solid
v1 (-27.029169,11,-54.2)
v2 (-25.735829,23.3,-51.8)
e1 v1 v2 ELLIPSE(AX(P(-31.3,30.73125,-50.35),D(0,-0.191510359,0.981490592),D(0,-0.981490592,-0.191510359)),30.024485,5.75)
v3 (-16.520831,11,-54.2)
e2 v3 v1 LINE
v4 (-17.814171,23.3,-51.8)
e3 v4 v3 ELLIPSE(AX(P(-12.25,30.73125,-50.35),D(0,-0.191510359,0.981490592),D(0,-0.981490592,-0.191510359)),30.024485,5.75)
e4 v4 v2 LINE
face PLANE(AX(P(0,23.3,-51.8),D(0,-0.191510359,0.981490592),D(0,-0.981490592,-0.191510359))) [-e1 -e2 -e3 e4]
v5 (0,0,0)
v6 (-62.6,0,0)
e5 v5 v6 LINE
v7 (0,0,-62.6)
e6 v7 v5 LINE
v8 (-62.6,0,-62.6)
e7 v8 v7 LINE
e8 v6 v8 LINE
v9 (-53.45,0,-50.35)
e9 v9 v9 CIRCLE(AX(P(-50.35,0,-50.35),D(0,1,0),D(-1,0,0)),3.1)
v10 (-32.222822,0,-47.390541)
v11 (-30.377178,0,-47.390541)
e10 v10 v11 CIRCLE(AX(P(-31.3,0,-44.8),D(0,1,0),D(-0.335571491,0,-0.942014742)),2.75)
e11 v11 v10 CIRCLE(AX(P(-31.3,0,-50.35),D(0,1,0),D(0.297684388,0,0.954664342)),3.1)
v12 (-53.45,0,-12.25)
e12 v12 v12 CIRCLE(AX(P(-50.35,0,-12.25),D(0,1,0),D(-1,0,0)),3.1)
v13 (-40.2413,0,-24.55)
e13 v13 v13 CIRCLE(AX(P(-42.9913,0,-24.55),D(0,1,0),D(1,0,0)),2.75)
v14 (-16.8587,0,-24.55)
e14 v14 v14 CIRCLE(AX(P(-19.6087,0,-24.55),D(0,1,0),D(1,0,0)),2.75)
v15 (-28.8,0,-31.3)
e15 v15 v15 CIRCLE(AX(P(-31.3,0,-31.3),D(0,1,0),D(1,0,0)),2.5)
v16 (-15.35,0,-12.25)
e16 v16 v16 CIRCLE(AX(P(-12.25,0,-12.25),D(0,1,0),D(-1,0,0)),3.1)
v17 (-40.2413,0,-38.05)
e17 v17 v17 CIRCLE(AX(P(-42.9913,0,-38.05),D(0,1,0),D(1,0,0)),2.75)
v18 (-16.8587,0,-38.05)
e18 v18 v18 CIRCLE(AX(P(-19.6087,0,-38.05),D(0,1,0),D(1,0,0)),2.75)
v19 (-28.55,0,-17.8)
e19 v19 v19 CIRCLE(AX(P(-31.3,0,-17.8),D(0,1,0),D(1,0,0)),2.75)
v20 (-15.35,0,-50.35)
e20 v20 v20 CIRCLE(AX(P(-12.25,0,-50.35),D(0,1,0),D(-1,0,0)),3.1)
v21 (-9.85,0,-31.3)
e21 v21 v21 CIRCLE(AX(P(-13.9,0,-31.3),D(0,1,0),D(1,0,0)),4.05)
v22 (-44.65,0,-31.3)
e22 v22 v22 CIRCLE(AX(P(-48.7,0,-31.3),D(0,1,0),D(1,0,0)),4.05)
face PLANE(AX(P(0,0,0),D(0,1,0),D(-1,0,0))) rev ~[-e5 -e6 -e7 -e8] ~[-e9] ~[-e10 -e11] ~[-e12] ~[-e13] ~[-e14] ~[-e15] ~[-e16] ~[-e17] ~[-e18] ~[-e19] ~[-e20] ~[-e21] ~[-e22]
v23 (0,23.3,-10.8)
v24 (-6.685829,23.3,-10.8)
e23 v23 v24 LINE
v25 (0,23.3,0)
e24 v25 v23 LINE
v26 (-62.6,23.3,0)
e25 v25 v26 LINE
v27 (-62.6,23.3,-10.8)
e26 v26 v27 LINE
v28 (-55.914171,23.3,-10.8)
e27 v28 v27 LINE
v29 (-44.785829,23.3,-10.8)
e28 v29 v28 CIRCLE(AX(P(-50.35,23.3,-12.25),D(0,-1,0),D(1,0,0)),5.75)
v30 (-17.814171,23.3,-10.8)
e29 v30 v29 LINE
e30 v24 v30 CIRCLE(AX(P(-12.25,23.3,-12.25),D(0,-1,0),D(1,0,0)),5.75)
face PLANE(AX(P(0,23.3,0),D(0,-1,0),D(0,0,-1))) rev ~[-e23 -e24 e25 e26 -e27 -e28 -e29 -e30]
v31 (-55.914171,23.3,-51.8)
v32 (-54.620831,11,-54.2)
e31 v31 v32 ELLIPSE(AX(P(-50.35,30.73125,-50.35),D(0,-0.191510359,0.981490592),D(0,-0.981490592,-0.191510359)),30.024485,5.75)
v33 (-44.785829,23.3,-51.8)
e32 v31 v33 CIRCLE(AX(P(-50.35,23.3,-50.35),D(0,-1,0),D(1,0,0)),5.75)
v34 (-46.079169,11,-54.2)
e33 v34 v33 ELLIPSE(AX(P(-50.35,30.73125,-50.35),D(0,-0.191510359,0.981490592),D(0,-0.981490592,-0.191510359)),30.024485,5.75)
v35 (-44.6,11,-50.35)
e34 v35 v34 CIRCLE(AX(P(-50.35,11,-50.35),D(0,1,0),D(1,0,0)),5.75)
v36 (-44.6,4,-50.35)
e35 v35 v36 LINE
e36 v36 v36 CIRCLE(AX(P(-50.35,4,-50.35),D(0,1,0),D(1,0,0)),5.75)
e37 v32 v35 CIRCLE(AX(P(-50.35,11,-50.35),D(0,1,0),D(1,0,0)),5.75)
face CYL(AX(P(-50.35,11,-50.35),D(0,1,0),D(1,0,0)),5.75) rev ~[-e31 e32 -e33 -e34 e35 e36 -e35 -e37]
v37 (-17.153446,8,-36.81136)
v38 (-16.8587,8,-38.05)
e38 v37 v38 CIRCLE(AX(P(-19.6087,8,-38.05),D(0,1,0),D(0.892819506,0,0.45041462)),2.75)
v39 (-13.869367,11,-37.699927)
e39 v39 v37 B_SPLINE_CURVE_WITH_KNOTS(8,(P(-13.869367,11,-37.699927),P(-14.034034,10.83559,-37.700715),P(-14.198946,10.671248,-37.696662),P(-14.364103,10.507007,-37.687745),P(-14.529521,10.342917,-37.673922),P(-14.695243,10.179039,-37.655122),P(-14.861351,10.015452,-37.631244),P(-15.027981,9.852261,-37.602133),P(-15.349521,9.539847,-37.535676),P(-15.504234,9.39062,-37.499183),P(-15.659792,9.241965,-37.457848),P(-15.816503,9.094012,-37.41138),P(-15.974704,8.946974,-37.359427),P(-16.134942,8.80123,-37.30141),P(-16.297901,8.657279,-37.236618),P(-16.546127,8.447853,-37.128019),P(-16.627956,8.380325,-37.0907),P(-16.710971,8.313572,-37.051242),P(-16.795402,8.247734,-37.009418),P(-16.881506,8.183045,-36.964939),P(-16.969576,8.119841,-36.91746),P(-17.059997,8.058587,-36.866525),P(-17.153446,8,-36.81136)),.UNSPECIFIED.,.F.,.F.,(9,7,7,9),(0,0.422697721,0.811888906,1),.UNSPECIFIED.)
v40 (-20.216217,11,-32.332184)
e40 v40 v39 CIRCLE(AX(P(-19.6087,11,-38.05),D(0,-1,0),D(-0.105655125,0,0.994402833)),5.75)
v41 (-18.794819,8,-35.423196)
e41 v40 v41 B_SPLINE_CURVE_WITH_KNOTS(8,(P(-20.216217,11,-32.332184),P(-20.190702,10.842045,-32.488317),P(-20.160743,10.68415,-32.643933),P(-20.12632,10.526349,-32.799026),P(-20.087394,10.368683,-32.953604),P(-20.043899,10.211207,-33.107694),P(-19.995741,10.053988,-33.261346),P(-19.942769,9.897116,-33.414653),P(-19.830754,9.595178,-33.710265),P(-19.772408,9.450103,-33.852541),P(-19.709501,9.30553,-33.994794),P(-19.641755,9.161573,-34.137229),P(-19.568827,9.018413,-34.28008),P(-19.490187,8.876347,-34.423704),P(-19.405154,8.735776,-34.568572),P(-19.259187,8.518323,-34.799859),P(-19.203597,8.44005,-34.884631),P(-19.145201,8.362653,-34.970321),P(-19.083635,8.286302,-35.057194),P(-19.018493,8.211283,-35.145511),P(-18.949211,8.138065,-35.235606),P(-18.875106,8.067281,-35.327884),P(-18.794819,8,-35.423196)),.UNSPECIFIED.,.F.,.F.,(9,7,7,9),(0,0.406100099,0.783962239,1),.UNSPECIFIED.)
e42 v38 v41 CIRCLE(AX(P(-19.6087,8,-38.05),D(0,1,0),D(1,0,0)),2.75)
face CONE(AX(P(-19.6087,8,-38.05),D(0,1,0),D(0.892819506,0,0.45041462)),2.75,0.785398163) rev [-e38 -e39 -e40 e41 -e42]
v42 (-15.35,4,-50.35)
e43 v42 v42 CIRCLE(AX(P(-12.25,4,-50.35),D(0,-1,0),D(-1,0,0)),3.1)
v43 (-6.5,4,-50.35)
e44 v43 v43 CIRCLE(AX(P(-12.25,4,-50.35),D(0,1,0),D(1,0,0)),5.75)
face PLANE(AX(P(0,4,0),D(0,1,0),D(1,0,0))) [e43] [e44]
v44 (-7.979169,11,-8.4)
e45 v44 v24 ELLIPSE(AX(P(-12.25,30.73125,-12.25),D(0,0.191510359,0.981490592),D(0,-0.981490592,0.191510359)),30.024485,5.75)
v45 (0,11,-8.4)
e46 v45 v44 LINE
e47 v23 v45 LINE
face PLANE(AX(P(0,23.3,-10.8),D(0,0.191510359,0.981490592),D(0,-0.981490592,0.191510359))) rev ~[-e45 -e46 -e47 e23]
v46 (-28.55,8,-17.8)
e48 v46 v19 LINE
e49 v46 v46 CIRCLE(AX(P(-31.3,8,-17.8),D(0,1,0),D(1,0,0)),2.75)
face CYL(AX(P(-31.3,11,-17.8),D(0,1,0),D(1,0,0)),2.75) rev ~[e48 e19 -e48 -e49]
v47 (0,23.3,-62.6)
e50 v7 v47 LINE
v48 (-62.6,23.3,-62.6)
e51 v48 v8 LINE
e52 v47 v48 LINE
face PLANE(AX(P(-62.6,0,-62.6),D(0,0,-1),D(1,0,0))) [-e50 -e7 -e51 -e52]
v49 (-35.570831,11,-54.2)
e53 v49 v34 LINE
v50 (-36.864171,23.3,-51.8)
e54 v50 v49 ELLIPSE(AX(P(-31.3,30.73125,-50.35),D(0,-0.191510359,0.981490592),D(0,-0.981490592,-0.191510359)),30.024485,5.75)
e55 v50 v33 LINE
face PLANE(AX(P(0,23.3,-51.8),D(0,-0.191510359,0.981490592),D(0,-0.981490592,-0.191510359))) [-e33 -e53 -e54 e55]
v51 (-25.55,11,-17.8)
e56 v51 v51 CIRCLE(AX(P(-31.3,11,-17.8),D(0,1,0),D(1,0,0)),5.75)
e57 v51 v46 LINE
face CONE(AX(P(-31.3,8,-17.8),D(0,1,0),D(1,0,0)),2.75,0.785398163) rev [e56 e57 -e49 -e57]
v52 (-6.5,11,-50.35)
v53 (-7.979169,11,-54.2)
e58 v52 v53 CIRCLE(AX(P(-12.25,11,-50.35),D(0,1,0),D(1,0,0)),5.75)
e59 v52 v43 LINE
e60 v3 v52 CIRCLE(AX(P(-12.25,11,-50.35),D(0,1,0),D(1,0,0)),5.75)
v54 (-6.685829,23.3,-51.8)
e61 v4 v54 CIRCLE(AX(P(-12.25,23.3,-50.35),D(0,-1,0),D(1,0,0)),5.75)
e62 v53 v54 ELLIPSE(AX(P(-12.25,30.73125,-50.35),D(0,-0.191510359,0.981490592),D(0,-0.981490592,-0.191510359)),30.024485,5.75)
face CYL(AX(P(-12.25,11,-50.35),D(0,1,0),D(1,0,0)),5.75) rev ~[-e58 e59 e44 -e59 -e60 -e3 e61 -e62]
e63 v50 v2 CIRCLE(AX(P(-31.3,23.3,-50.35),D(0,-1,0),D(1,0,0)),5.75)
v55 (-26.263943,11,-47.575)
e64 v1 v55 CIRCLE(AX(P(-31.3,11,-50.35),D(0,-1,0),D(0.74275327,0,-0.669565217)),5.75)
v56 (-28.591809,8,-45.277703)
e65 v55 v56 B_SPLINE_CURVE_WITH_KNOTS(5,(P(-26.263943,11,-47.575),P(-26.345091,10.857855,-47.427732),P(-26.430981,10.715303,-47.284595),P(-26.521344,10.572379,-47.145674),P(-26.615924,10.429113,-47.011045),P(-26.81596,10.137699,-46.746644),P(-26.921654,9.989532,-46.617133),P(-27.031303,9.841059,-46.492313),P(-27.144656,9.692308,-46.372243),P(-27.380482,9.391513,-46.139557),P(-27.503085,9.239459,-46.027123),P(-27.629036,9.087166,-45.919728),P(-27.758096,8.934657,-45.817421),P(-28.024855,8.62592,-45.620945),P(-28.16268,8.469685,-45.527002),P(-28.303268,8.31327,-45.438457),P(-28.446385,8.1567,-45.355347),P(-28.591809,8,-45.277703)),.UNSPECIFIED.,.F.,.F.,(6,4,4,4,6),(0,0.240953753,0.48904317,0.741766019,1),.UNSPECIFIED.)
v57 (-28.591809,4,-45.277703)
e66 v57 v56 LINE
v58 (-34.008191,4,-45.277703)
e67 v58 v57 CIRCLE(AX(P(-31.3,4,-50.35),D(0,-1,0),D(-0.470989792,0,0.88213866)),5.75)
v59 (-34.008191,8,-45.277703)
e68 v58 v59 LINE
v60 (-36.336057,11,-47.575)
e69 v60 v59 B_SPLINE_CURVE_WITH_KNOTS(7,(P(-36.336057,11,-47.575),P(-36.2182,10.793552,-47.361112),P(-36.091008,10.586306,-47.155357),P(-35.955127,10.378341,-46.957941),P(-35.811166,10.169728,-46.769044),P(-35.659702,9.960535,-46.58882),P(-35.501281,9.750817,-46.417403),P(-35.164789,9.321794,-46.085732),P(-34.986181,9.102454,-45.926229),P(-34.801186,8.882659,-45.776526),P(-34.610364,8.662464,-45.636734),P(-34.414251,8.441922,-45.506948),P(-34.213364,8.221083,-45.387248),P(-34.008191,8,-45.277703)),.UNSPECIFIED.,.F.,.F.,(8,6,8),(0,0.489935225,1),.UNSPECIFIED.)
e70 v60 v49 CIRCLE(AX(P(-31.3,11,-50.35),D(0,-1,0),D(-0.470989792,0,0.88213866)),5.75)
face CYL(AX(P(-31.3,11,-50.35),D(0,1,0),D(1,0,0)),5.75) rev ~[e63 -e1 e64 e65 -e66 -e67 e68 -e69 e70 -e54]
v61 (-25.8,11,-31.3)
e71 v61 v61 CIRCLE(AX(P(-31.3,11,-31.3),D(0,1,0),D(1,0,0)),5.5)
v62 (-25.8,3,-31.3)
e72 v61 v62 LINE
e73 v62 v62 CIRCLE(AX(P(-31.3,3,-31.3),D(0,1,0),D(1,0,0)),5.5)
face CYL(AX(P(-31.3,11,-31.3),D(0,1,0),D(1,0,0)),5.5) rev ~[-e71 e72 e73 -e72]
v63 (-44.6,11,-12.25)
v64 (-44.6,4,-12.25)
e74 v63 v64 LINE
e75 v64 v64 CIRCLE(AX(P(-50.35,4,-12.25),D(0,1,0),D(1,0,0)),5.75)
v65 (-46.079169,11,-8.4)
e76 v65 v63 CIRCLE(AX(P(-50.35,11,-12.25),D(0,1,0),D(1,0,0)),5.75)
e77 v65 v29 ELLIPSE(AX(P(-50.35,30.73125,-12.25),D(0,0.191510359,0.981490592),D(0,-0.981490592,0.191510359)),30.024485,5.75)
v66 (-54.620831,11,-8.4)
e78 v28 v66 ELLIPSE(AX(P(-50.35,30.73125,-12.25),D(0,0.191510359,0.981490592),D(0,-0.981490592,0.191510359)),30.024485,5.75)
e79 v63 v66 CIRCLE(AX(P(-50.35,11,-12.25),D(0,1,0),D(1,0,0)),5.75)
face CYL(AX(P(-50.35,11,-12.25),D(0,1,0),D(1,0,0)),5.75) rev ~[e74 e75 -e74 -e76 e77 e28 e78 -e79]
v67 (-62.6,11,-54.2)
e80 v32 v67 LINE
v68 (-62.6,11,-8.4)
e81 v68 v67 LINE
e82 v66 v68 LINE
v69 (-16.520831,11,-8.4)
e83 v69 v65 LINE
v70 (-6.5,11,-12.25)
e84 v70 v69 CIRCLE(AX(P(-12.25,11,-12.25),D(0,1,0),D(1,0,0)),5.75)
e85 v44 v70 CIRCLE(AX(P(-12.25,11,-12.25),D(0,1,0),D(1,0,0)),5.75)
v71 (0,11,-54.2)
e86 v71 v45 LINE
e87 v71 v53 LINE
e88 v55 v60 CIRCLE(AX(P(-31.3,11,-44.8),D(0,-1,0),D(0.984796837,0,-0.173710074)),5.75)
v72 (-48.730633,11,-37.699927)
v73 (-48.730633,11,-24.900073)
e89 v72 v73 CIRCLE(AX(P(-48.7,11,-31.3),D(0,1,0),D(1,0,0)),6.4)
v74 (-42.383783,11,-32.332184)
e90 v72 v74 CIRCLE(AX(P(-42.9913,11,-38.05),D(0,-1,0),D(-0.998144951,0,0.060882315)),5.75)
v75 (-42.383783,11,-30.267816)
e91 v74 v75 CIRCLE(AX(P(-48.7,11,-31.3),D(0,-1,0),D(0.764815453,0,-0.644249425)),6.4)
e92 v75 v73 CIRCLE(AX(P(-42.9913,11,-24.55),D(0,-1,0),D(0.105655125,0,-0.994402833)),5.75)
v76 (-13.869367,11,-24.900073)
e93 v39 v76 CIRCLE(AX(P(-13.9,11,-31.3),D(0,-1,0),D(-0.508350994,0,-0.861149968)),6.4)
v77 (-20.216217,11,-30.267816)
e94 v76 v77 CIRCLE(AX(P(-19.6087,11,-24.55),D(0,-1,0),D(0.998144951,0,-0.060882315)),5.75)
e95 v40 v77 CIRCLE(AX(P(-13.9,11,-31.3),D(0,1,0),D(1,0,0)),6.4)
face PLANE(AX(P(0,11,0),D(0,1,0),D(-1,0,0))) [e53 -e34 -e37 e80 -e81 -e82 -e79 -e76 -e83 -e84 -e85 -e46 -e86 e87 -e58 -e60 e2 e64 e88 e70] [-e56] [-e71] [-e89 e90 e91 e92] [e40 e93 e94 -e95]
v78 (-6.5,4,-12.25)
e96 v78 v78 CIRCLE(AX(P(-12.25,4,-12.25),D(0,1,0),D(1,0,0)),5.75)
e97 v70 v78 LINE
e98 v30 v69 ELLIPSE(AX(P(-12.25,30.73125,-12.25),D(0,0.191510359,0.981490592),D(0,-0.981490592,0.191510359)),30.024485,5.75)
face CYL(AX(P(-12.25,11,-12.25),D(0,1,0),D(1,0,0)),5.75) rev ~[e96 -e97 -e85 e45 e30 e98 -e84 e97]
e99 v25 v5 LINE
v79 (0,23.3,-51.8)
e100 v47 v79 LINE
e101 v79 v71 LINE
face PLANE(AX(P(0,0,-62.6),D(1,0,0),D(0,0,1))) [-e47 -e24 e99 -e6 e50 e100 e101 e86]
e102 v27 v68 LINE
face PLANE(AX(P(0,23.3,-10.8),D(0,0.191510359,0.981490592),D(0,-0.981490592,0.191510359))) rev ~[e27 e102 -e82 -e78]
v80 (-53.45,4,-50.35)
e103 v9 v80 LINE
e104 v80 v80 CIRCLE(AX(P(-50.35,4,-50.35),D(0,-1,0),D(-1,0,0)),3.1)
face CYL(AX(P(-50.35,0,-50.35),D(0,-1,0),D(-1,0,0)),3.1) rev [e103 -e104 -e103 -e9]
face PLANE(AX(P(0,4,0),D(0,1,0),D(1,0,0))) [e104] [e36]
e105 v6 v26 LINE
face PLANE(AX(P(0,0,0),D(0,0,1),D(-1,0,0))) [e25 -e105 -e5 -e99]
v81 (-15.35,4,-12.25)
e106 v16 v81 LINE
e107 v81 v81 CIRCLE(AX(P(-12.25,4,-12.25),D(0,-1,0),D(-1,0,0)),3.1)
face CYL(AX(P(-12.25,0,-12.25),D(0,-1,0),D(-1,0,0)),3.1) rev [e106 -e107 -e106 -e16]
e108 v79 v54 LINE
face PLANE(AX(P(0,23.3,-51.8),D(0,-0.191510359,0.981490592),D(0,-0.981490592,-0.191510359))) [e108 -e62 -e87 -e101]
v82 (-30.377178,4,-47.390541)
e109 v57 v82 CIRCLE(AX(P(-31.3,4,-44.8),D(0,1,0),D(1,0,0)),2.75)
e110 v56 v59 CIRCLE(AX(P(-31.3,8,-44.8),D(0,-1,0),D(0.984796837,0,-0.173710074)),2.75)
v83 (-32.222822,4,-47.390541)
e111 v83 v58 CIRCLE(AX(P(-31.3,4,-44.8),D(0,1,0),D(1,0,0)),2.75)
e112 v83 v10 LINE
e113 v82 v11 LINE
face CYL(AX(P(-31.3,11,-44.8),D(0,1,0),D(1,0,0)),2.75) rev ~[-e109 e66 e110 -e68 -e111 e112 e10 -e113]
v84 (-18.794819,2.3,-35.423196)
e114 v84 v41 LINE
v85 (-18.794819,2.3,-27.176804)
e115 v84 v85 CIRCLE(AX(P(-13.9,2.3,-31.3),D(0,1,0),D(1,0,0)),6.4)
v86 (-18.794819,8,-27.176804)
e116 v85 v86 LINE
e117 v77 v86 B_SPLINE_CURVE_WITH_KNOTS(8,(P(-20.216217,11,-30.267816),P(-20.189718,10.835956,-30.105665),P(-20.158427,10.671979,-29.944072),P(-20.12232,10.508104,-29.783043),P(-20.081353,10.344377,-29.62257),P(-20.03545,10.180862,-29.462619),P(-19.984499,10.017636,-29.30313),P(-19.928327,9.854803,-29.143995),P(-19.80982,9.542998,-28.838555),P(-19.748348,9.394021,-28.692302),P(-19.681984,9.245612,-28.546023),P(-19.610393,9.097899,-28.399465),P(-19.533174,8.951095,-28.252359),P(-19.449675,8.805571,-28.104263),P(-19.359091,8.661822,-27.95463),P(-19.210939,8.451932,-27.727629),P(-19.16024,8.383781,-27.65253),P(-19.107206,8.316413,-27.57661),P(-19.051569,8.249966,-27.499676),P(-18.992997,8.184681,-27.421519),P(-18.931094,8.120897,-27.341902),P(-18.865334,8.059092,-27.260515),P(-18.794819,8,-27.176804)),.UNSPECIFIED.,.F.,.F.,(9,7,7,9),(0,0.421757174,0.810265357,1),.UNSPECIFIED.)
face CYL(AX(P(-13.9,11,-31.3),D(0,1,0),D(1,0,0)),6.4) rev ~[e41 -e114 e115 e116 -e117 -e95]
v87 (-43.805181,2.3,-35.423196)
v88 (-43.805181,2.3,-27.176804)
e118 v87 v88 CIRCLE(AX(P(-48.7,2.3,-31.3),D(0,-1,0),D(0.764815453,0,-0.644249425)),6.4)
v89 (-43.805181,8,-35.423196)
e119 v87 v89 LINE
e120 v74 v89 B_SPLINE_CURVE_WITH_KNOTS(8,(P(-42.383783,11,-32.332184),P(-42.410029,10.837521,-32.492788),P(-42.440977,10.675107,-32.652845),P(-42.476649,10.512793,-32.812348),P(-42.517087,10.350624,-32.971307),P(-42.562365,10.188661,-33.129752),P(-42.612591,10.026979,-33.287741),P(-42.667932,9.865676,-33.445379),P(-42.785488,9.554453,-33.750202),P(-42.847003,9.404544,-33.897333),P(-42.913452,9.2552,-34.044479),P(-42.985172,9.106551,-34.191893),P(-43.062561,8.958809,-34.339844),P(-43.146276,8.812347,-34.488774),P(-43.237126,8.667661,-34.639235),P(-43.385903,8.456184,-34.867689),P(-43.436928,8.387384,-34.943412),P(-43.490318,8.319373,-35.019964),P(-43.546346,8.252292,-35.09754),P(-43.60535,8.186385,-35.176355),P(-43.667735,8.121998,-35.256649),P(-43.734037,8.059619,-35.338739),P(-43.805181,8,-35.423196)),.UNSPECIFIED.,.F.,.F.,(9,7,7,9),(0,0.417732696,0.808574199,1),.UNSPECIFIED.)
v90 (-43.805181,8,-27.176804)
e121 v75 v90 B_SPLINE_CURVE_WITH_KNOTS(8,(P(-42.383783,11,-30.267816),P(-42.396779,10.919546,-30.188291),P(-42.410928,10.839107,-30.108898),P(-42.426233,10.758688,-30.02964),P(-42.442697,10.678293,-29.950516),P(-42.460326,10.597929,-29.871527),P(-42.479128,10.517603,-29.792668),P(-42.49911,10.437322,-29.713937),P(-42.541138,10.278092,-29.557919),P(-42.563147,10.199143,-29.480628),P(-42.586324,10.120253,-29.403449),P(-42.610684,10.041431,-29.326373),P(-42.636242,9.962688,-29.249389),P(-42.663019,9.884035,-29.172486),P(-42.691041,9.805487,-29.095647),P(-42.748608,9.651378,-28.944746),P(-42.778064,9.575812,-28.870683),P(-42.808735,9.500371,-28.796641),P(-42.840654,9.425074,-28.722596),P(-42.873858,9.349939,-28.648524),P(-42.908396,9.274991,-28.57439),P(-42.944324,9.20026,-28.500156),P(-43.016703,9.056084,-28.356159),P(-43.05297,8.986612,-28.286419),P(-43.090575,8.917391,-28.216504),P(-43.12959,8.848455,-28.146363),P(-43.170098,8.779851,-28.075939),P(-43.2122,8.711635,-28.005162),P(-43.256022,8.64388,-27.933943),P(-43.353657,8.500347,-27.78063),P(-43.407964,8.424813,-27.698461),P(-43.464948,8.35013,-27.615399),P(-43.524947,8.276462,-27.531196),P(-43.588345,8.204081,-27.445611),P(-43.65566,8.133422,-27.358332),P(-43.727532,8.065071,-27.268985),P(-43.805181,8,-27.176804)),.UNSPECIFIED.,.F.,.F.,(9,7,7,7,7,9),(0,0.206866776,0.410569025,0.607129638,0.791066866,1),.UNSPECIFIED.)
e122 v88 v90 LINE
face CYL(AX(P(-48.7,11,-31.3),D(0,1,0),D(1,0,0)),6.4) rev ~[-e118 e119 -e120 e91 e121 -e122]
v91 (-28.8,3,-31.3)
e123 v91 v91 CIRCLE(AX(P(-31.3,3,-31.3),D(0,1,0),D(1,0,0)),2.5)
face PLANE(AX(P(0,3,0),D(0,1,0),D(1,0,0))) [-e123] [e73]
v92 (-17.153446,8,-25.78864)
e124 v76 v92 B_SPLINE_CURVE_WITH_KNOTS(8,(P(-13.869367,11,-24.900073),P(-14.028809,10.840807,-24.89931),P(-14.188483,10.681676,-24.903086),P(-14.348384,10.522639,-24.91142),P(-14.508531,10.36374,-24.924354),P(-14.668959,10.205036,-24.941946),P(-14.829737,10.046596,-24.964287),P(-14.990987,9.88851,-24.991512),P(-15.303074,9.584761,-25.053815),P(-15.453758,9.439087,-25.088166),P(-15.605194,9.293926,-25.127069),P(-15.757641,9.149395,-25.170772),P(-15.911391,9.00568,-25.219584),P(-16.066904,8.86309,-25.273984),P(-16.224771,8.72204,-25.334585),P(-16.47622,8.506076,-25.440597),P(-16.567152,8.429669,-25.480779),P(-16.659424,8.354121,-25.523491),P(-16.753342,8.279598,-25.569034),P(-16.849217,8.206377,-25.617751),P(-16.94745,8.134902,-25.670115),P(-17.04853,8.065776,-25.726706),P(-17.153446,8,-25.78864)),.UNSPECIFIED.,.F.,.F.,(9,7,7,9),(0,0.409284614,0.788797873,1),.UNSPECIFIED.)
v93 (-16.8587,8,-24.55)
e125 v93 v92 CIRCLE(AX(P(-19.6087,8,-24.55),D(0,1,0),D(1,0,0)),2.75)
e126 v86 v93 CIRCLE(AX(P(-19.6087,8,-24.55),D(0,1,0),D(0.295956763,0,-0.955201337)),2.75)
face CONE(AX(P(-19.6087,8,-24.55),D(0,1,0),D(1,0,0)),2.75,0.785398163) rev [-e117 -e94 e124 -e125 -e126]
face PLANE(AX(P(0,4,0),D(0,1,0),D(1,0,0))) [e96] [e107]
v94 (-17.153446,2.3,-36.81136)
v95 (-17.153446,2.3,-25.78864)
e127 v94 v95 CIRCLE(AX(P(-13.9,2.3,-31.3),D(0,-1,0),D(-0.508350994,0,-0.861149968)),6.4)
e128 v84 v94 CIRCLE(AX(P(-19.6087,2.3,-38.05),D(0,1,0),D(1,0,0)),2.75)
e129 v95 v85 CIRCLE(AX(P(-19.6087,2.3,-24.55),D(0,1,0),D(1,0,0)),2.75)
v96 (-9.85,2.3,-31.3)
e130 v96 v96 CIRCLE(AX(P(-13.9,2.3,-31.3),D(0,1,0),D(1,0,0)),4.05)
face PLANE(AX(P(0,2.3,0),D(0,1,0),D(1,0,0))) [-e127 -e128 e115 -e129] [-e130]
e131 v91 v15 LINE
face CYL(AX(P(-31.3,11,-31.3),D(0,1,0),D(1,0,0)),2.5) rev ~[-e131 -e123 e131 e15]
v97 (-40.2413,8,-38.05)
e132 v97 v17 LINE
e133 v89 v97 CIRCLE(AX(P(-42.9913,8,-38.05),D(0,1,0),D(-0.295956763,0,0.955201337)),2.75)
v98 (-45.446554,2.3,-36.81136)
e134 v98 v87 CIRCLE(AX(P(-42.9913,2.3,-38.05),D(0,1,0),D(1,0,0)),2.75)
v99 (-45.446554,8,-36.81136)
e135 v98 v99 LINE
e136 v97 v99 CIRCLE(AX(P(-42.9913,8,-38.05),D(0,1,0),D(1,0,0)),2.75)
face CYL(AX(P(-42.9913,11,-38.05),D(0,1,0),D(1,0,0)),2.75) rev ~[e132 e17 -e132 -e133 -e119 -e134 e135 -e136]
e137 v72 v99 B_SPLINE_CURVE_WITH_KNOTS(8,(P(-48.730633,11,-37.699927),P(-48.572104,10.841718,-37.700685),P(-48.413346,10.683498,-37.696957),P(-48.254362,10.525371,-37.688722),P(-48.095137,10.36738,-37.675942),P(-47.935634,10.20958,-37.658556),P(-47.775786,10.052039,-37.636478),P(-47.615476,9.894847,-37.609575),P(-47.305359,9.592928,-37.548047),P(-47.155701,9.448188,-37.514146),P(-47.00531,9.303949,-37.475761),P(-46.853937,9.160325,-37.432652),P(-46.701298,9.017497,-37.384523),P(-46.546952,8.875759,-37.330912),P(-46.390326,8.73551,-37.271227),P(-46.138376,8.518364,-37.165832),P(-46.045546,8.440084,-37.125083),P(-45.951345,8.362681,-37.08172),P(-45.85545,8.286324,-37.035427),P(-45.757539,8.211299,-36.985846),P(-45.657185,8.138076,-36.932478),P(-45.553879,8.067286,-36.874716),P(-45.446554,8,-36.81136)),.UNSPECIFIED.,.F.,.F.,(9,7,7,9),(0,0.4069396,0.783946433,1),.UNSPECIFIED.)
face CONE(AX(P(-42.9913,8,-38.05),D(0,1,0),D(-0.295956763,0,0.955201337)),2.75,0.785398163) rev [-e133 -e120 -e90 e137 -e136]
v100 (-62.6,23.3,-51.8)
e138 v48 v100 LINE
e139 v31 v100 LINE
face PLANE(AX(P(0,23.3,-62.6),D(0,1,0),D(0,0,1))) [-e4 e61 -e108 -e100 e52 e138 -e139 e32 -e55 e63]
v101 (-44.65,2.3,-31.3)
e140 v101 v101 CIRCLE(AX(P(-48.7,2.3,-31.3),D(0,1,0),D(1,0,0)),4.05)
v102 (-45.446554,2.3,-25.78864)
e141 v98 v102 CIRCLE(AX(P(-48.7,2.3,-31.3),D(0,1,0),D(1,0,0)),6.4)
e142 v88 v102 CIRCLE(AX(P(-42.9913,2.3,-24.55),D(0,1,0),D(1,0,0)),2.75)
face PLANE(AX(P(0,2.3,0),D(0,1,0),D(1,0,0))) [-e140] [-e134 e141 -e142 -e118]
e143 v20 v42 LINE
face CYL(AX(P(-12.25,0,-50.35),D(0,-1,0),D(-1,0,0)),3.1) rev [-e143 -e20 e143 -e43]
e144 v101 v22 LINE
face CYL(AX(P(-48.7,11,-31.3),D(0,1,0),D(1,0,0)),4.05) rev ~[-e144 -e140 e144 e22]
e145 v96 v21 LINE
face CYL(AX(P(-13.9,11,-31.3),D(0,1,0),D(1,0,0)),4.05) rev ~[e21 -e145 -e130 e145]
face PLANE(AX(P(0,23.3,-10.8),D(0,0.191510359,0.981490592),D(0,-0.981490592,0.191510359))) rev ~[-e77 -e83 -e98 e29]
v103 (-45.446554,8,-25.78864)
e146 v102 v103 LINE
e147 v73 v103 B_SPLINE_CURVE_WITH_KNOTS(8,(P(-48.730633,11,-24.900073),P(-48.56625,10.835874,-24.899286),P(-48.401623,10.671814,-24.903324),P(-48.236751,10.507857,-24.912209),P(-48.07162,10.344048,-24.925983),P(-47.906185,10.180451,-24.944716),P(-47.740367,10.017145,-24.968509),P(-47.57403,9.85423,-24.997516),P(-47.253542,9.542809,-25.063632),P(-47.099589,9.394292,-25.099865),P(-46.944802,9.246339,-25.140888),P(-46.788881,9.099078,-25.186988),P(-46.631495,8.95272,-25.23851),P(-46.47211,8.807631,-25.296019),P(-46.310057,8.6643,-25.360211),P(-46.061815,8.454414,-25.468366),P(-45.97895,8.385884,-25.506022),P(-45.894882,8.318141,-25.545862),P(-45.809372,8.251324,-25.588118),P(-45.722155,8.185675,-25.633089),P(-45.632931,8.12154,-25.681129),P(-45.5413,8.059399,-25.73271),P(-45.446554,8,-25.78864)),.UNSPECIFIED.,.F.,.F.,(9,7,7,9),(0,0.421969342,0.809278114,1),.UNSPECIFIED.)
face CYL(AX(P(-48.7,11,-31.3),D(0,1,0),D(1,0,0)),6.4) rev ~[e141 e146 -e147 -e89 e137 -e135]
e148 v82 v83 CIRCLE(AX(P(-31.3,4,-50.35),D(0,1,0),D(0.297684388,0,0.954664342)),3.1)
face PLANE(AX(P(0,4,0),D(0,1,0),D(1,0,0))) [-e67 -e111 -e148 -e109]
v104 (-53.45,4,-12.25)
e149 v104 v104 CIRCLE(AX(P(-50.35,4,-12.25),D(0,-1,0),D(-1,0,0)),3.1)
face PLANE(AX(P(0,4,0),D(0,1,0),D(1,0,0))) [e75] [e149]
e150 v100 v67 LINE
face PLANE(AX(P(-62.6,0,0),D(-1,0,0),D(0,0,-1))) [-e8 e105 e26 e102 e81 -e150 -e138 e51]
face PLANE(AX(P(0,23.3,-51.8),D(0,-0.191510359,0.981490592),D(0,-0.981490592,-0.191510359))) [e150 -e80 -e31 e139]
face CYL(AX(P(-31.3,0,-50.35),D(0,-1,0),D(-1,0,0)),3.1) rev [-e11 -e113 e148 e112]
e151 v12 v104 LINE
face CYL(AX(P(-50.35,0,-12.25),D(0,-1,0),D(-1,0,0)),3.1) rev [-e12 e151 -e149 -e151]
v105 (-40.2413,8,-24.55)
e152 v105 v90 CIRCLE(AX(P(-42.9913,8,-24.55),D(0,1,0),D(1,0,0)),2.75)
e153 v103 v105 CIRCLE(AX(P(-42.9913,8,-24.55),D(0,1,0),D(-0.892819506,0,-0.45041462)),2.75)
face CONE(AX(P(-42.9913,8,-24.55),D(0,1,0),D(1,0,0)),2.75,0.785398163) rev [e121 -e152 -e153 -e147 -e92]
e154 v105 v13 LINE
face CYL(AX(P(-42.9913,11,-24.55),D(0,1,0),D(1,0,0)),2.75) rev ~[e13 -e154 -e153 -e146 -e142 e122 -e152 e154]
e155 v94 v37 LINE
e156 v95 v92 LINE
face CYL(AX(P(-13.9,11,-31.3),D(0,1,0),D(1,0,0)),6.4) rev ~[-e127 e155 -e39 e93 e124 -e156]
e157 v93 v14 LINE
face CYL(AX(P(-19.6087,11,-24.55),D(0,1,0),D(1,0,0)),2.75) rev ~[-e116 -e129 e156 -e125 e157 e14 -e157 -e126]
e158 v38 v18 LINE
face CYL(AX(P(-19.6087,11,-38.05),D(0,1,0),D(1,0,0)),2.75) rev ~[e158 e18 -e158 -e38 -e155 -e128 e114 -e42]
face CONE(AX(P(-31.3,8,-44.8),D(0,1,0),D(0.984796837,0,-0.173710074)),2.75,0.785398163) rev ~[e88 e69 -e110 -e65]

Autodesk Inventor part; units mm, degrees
ref_plane "YZ Plane" through (0, 0, 0) normal (1, 0, 0) x (0, 1, 0)
ref_plane "XZ Plane" through (0, 0, 0) normal (0, 1, 0) x (-1, 0, 0)
ref_plane "XY Plane" through (0, 0, 0) normal (0, 0, 1) x (1, 0, 0)
sketch "Sketch1" plane through (0, 0, 0) normal (0, 1, 0) x (-1, 0, 0)
  line L0 (0, 0) -> (62.6, 0)
  line L1 (62.6, 0) -> (62.6, -62.6)
  line L2 (62.6, -62.6) -> (0, -62.6)
  line L3 (0, -62.6) -> (0, 0)
  circle A0 centre (31.3, -31.3) radius 2.5
  circle A1 centre (12.25, -12.25) radius 3.1
  circle A2 centre (31.3, -12.25) radius 3.1
  circle A3 centre (50.35, -12.25) radius 3.1
  circle A4 centre (12.25, -50.35) radius 3.1
  circle A5 centre (31.3, -50.35) radius 3.1
  circle A6 centre (50.35, -50.35) radius 3.1
  point P0 (31.3, -62.6)
  dimension "d0" = 62.6
  dimension "d1" = 62.6
  dimension "d2" = 5
  dimension "d3" = 31.3
  dimension "d4" = 31.3
  dimension "d5" = 19.05
  dimension "d6" = 19.05
  dimension "d7" = 6.2
  dimension "d10" = 19.05
  dimension "d13" = 38.1
extrude "Extrusion1" add sketch "Sketch1" along normal blind 11 contours L0 L1 L2 L3 | A0 | A2
sketch "Sketch3" plane through (0, 11, 0) normal (0, 1, 0) x (1, 0, 0)
  circle A0 centre (-31.3, 31.3) radius 2.5
  line L0 (-62.6, 0) -> (0, 0) projected
  line L1 (0, 0) -> (0, 62.6) projected
  dimension "d47" = 5
  dimension "d48" = 31.3
  dimension "d49" = 31.3
extrude "Extrusion3" cut sketch "Sketch3" against normal blind 11
sketch "Sketch4" plane through (0, 11, 0) normal (0, 1, 0) x (1, 0, 0)
  circle A0 centre (-31.3, 31.3) radius 2.5 projected
  circle A1 centre (-31.3, 31.3) radius 5.5
  point P0 (0, 0)
  dimension "d52" = 11
sketch "Sketch5" plane through (0, 11, 0) normal (0, 1, 0) x (1, 0, 0)
  circle A0 centre (-12.25, 12.25) radius 3.1 projected
  circle A1 centre (-12.25, 12.25) radius 5.75
  circle A2 centre (-50.35, 12.25) radius 3.1 projected
  circle A3 centre (-50.35, 12.25) radius 5.75
  circle A4 centre (-50.35, 50.35) radius 3.1 projected
  circle A5 centre (-50.35, 50.35) radius 5.75
  circle A6 centre (-31.3, 50.35) radius 3.1 projected
  circle A7 centre (-31.3, 50.35) radius 5.75
  circle A8 centre (-12.25, 50.35) radius 3.1 projected
  circle A9 centre (-12.25, 50.35) radius 5.75
  point P0 (0, 0)
  dimension "d53" = 11.5
  dimension "d54" = 11.5
  dimension "d55" = 11.5
  dimension "d56" = 11.5
  dimension "d57" = 11.5
extrude "Extrusion4" cut sketch "Sketch5" against normal blind 7 contours A0 | A1 | A2 | A3 | A4 | A5 | A7 | A8 | A9
extrude "Extrusion5" cut sketch "Sketch4" against normal blind 8
sketch "Sketch7" plane through (0, 11, 0) normal (0, 1, 0) x (1, 0, 0)
  circle A0 centre (-31.3, 31.3) radius 2.5 projected
  circle A1 centre (-31.3, 31.3) radius 1
  circle A2 centre (-48.7, 31.3) radius 4.05
  circle A3 centre (-13.9, 31.3) radius 4.05
  point P0 (0, 0)
  dimension "d63" = 2
  dimension "d64" = 8.1
  dimension "d65" = 17.4
  dimension "d66" = 8.1
  dimension "d67" = 17.4
extrude "Extrusion6" cut sketch "Sketch7" against normal blind 11 contours A2 | A3
sketch "Sketch8" plane through (0, 11, 0) normal (0, 1, 0) x (1, 0, 0)
  circle A0 centre (-48.7, 31.3) radius 4.05 projected
  circle A1 centre (-48.7, 31.3) radius 6.4
  circle A2 centre (-13.9, 31.3) radius 4.05 projected
  circle A3 centre (-13.9, 31.3) radius 6.4
  point P0 (0, 0)
  point P1 (-44.65, 31.3)
  point P2 (-44.65, 31.3)
  point P3 (-9.85, 31.3)
  point P4 (-9.85, 31.3)
  point P5 (-44.65, 31.3)
  point P6 (-44.65, 31.3)
  dimension "d70" = 12.8
  dimension "d71" = 12.8
extrude "Extrusion7" cut sketch "Sketch8" against normal blind 8.7 contours A0 | A1 | A2 | A3
sketch "Sketch9" plane through (0, 11, 0) normal (0, 1, 0) x (1, 0, 0)
  circle A0 centre (-31.3, 31.3) radius 1
  line L0 (-62.6, 0) -> (0, 0) projected
  line L1 (0, 0) -> (0, 62.6) projected
  circle A1 centre (-31.3, 44.8) radius 2.75
  circle A2 centre (-42.9913, 38.05) radius 2.75
  circle A3 centre (-42.9913, 24.55) radius 2.75
  circle A4 centre (-31.3, 17.8) radius 2.75
  circle A5 centre (-19.6087, 24.55) radius 2.75
  circle A6 centre (-19.6087, 38.05) radius 2.75
  dimension "d86" = 2
  dimension "d87" = 31.3
  dimension "d88" = 31.3
  dimension "d89" = 5.5
  dimension "d90" = 13.5
  dimension "d93" = 360
extrude "Extrusion8" cut sketch "Sketch9" against normal blind 11 contours A1 | A2 | A3 | A4 | A5 | A6
chamfer "Chamfer3" distance 3 angle 45 10 edges at (-43.6279, 11, -40.7253) (-41.3597, 11, -35.8363) (-41.3597, 11, -26.7637) (-43.6279, 11, -21.8747) (-34.05, 11, -17.8) (-16.9334, 11, -25.1866) (-21.8223, 11, -22.9184) (-21.8223, 11, -39.6816) (-16.9334, 11, -37.4134) (-31.3, 11, -42.05)
sketch "Sketch10" plane through (0, 0, 0) normal (1, 0, 0) x (0, 0, -1)
  line L0 (62.6, 11) -> (0, 11) projected
  line L1 (62.6, 11) -> (62.6, 23.3)
  line L2 (62.6, 23.3) -> (51.8, 23.3)
  line L3 (51.8, 23.3) -> (54.2, 11)
  line L4 (54.2, 11) -> (62.6, 11)
  line L5 (0, 11) -> (0, 23.3)
  line L6 (0, 23.3) -> (10.8, 23.3)
  line L7 (10.8, 23.3) -> (8.4, 11)
  point P0 (0, 0)
  dimension "d67" = 17.4
  dimension "d100" = 12.3
  dimension "d101" = 10.8
  dimension "d102" = 8.4
  dimension "d103" = 12.3
  dimension "d104" = 10.8
  dimension "d105" = 8.4
extrude "Extrusion9" add sketch "Sketch10" against normal blind 62.6
sketch "Sketch11" plane through (0, 11, 0) normal (0, 1, 0) x (1, 0, 0)
  circle A0 centre (-50.35, 12.25) radius 5.75
  circle A1 centre (-50.35, 50.35) radius 3.1 projected
  circle A2 centre (-50.35, 50.35) radius 5.75
  arc A3 (-30.3772, 47.3905) -> (-32.2228, 47.3905) centre (-31.3, 50.35) ccw projected
  circle A4 centre (-31.3, 50.35) radius 5.75
  circle A5 centre (-12.25, 50.35) radius 5.75
  circle A6 centre (-12.25, 12.25) radius 3.1 projected
  circle A7 centre (-12.25, 12.25) radius 5.75
  point P0 (0, 0)
extrude "Extrusion10" cut sketch "Sketch11" along normal blind 62.6 contours A0 | A1 | A2 | A4 | A5 | A6 | A7
equation "\"d3\" = 0.5 * d1"
equation "\"d4\" = 0.5 * d0"
equation "\"d48\" = 0.5 * d0"
equation "\"d49\" = 0.5 * d1"
equation "\"d66\" = d64"
equation "\"d67\" = d65"
equation "\"d87\" = 0.5 * d1"
equation "\"d88\" = 0.5 * d0"
equation "\"d106\" = d1"
equation "\"d108\" = d1"
properties part number "Tube dovetail bracket"
